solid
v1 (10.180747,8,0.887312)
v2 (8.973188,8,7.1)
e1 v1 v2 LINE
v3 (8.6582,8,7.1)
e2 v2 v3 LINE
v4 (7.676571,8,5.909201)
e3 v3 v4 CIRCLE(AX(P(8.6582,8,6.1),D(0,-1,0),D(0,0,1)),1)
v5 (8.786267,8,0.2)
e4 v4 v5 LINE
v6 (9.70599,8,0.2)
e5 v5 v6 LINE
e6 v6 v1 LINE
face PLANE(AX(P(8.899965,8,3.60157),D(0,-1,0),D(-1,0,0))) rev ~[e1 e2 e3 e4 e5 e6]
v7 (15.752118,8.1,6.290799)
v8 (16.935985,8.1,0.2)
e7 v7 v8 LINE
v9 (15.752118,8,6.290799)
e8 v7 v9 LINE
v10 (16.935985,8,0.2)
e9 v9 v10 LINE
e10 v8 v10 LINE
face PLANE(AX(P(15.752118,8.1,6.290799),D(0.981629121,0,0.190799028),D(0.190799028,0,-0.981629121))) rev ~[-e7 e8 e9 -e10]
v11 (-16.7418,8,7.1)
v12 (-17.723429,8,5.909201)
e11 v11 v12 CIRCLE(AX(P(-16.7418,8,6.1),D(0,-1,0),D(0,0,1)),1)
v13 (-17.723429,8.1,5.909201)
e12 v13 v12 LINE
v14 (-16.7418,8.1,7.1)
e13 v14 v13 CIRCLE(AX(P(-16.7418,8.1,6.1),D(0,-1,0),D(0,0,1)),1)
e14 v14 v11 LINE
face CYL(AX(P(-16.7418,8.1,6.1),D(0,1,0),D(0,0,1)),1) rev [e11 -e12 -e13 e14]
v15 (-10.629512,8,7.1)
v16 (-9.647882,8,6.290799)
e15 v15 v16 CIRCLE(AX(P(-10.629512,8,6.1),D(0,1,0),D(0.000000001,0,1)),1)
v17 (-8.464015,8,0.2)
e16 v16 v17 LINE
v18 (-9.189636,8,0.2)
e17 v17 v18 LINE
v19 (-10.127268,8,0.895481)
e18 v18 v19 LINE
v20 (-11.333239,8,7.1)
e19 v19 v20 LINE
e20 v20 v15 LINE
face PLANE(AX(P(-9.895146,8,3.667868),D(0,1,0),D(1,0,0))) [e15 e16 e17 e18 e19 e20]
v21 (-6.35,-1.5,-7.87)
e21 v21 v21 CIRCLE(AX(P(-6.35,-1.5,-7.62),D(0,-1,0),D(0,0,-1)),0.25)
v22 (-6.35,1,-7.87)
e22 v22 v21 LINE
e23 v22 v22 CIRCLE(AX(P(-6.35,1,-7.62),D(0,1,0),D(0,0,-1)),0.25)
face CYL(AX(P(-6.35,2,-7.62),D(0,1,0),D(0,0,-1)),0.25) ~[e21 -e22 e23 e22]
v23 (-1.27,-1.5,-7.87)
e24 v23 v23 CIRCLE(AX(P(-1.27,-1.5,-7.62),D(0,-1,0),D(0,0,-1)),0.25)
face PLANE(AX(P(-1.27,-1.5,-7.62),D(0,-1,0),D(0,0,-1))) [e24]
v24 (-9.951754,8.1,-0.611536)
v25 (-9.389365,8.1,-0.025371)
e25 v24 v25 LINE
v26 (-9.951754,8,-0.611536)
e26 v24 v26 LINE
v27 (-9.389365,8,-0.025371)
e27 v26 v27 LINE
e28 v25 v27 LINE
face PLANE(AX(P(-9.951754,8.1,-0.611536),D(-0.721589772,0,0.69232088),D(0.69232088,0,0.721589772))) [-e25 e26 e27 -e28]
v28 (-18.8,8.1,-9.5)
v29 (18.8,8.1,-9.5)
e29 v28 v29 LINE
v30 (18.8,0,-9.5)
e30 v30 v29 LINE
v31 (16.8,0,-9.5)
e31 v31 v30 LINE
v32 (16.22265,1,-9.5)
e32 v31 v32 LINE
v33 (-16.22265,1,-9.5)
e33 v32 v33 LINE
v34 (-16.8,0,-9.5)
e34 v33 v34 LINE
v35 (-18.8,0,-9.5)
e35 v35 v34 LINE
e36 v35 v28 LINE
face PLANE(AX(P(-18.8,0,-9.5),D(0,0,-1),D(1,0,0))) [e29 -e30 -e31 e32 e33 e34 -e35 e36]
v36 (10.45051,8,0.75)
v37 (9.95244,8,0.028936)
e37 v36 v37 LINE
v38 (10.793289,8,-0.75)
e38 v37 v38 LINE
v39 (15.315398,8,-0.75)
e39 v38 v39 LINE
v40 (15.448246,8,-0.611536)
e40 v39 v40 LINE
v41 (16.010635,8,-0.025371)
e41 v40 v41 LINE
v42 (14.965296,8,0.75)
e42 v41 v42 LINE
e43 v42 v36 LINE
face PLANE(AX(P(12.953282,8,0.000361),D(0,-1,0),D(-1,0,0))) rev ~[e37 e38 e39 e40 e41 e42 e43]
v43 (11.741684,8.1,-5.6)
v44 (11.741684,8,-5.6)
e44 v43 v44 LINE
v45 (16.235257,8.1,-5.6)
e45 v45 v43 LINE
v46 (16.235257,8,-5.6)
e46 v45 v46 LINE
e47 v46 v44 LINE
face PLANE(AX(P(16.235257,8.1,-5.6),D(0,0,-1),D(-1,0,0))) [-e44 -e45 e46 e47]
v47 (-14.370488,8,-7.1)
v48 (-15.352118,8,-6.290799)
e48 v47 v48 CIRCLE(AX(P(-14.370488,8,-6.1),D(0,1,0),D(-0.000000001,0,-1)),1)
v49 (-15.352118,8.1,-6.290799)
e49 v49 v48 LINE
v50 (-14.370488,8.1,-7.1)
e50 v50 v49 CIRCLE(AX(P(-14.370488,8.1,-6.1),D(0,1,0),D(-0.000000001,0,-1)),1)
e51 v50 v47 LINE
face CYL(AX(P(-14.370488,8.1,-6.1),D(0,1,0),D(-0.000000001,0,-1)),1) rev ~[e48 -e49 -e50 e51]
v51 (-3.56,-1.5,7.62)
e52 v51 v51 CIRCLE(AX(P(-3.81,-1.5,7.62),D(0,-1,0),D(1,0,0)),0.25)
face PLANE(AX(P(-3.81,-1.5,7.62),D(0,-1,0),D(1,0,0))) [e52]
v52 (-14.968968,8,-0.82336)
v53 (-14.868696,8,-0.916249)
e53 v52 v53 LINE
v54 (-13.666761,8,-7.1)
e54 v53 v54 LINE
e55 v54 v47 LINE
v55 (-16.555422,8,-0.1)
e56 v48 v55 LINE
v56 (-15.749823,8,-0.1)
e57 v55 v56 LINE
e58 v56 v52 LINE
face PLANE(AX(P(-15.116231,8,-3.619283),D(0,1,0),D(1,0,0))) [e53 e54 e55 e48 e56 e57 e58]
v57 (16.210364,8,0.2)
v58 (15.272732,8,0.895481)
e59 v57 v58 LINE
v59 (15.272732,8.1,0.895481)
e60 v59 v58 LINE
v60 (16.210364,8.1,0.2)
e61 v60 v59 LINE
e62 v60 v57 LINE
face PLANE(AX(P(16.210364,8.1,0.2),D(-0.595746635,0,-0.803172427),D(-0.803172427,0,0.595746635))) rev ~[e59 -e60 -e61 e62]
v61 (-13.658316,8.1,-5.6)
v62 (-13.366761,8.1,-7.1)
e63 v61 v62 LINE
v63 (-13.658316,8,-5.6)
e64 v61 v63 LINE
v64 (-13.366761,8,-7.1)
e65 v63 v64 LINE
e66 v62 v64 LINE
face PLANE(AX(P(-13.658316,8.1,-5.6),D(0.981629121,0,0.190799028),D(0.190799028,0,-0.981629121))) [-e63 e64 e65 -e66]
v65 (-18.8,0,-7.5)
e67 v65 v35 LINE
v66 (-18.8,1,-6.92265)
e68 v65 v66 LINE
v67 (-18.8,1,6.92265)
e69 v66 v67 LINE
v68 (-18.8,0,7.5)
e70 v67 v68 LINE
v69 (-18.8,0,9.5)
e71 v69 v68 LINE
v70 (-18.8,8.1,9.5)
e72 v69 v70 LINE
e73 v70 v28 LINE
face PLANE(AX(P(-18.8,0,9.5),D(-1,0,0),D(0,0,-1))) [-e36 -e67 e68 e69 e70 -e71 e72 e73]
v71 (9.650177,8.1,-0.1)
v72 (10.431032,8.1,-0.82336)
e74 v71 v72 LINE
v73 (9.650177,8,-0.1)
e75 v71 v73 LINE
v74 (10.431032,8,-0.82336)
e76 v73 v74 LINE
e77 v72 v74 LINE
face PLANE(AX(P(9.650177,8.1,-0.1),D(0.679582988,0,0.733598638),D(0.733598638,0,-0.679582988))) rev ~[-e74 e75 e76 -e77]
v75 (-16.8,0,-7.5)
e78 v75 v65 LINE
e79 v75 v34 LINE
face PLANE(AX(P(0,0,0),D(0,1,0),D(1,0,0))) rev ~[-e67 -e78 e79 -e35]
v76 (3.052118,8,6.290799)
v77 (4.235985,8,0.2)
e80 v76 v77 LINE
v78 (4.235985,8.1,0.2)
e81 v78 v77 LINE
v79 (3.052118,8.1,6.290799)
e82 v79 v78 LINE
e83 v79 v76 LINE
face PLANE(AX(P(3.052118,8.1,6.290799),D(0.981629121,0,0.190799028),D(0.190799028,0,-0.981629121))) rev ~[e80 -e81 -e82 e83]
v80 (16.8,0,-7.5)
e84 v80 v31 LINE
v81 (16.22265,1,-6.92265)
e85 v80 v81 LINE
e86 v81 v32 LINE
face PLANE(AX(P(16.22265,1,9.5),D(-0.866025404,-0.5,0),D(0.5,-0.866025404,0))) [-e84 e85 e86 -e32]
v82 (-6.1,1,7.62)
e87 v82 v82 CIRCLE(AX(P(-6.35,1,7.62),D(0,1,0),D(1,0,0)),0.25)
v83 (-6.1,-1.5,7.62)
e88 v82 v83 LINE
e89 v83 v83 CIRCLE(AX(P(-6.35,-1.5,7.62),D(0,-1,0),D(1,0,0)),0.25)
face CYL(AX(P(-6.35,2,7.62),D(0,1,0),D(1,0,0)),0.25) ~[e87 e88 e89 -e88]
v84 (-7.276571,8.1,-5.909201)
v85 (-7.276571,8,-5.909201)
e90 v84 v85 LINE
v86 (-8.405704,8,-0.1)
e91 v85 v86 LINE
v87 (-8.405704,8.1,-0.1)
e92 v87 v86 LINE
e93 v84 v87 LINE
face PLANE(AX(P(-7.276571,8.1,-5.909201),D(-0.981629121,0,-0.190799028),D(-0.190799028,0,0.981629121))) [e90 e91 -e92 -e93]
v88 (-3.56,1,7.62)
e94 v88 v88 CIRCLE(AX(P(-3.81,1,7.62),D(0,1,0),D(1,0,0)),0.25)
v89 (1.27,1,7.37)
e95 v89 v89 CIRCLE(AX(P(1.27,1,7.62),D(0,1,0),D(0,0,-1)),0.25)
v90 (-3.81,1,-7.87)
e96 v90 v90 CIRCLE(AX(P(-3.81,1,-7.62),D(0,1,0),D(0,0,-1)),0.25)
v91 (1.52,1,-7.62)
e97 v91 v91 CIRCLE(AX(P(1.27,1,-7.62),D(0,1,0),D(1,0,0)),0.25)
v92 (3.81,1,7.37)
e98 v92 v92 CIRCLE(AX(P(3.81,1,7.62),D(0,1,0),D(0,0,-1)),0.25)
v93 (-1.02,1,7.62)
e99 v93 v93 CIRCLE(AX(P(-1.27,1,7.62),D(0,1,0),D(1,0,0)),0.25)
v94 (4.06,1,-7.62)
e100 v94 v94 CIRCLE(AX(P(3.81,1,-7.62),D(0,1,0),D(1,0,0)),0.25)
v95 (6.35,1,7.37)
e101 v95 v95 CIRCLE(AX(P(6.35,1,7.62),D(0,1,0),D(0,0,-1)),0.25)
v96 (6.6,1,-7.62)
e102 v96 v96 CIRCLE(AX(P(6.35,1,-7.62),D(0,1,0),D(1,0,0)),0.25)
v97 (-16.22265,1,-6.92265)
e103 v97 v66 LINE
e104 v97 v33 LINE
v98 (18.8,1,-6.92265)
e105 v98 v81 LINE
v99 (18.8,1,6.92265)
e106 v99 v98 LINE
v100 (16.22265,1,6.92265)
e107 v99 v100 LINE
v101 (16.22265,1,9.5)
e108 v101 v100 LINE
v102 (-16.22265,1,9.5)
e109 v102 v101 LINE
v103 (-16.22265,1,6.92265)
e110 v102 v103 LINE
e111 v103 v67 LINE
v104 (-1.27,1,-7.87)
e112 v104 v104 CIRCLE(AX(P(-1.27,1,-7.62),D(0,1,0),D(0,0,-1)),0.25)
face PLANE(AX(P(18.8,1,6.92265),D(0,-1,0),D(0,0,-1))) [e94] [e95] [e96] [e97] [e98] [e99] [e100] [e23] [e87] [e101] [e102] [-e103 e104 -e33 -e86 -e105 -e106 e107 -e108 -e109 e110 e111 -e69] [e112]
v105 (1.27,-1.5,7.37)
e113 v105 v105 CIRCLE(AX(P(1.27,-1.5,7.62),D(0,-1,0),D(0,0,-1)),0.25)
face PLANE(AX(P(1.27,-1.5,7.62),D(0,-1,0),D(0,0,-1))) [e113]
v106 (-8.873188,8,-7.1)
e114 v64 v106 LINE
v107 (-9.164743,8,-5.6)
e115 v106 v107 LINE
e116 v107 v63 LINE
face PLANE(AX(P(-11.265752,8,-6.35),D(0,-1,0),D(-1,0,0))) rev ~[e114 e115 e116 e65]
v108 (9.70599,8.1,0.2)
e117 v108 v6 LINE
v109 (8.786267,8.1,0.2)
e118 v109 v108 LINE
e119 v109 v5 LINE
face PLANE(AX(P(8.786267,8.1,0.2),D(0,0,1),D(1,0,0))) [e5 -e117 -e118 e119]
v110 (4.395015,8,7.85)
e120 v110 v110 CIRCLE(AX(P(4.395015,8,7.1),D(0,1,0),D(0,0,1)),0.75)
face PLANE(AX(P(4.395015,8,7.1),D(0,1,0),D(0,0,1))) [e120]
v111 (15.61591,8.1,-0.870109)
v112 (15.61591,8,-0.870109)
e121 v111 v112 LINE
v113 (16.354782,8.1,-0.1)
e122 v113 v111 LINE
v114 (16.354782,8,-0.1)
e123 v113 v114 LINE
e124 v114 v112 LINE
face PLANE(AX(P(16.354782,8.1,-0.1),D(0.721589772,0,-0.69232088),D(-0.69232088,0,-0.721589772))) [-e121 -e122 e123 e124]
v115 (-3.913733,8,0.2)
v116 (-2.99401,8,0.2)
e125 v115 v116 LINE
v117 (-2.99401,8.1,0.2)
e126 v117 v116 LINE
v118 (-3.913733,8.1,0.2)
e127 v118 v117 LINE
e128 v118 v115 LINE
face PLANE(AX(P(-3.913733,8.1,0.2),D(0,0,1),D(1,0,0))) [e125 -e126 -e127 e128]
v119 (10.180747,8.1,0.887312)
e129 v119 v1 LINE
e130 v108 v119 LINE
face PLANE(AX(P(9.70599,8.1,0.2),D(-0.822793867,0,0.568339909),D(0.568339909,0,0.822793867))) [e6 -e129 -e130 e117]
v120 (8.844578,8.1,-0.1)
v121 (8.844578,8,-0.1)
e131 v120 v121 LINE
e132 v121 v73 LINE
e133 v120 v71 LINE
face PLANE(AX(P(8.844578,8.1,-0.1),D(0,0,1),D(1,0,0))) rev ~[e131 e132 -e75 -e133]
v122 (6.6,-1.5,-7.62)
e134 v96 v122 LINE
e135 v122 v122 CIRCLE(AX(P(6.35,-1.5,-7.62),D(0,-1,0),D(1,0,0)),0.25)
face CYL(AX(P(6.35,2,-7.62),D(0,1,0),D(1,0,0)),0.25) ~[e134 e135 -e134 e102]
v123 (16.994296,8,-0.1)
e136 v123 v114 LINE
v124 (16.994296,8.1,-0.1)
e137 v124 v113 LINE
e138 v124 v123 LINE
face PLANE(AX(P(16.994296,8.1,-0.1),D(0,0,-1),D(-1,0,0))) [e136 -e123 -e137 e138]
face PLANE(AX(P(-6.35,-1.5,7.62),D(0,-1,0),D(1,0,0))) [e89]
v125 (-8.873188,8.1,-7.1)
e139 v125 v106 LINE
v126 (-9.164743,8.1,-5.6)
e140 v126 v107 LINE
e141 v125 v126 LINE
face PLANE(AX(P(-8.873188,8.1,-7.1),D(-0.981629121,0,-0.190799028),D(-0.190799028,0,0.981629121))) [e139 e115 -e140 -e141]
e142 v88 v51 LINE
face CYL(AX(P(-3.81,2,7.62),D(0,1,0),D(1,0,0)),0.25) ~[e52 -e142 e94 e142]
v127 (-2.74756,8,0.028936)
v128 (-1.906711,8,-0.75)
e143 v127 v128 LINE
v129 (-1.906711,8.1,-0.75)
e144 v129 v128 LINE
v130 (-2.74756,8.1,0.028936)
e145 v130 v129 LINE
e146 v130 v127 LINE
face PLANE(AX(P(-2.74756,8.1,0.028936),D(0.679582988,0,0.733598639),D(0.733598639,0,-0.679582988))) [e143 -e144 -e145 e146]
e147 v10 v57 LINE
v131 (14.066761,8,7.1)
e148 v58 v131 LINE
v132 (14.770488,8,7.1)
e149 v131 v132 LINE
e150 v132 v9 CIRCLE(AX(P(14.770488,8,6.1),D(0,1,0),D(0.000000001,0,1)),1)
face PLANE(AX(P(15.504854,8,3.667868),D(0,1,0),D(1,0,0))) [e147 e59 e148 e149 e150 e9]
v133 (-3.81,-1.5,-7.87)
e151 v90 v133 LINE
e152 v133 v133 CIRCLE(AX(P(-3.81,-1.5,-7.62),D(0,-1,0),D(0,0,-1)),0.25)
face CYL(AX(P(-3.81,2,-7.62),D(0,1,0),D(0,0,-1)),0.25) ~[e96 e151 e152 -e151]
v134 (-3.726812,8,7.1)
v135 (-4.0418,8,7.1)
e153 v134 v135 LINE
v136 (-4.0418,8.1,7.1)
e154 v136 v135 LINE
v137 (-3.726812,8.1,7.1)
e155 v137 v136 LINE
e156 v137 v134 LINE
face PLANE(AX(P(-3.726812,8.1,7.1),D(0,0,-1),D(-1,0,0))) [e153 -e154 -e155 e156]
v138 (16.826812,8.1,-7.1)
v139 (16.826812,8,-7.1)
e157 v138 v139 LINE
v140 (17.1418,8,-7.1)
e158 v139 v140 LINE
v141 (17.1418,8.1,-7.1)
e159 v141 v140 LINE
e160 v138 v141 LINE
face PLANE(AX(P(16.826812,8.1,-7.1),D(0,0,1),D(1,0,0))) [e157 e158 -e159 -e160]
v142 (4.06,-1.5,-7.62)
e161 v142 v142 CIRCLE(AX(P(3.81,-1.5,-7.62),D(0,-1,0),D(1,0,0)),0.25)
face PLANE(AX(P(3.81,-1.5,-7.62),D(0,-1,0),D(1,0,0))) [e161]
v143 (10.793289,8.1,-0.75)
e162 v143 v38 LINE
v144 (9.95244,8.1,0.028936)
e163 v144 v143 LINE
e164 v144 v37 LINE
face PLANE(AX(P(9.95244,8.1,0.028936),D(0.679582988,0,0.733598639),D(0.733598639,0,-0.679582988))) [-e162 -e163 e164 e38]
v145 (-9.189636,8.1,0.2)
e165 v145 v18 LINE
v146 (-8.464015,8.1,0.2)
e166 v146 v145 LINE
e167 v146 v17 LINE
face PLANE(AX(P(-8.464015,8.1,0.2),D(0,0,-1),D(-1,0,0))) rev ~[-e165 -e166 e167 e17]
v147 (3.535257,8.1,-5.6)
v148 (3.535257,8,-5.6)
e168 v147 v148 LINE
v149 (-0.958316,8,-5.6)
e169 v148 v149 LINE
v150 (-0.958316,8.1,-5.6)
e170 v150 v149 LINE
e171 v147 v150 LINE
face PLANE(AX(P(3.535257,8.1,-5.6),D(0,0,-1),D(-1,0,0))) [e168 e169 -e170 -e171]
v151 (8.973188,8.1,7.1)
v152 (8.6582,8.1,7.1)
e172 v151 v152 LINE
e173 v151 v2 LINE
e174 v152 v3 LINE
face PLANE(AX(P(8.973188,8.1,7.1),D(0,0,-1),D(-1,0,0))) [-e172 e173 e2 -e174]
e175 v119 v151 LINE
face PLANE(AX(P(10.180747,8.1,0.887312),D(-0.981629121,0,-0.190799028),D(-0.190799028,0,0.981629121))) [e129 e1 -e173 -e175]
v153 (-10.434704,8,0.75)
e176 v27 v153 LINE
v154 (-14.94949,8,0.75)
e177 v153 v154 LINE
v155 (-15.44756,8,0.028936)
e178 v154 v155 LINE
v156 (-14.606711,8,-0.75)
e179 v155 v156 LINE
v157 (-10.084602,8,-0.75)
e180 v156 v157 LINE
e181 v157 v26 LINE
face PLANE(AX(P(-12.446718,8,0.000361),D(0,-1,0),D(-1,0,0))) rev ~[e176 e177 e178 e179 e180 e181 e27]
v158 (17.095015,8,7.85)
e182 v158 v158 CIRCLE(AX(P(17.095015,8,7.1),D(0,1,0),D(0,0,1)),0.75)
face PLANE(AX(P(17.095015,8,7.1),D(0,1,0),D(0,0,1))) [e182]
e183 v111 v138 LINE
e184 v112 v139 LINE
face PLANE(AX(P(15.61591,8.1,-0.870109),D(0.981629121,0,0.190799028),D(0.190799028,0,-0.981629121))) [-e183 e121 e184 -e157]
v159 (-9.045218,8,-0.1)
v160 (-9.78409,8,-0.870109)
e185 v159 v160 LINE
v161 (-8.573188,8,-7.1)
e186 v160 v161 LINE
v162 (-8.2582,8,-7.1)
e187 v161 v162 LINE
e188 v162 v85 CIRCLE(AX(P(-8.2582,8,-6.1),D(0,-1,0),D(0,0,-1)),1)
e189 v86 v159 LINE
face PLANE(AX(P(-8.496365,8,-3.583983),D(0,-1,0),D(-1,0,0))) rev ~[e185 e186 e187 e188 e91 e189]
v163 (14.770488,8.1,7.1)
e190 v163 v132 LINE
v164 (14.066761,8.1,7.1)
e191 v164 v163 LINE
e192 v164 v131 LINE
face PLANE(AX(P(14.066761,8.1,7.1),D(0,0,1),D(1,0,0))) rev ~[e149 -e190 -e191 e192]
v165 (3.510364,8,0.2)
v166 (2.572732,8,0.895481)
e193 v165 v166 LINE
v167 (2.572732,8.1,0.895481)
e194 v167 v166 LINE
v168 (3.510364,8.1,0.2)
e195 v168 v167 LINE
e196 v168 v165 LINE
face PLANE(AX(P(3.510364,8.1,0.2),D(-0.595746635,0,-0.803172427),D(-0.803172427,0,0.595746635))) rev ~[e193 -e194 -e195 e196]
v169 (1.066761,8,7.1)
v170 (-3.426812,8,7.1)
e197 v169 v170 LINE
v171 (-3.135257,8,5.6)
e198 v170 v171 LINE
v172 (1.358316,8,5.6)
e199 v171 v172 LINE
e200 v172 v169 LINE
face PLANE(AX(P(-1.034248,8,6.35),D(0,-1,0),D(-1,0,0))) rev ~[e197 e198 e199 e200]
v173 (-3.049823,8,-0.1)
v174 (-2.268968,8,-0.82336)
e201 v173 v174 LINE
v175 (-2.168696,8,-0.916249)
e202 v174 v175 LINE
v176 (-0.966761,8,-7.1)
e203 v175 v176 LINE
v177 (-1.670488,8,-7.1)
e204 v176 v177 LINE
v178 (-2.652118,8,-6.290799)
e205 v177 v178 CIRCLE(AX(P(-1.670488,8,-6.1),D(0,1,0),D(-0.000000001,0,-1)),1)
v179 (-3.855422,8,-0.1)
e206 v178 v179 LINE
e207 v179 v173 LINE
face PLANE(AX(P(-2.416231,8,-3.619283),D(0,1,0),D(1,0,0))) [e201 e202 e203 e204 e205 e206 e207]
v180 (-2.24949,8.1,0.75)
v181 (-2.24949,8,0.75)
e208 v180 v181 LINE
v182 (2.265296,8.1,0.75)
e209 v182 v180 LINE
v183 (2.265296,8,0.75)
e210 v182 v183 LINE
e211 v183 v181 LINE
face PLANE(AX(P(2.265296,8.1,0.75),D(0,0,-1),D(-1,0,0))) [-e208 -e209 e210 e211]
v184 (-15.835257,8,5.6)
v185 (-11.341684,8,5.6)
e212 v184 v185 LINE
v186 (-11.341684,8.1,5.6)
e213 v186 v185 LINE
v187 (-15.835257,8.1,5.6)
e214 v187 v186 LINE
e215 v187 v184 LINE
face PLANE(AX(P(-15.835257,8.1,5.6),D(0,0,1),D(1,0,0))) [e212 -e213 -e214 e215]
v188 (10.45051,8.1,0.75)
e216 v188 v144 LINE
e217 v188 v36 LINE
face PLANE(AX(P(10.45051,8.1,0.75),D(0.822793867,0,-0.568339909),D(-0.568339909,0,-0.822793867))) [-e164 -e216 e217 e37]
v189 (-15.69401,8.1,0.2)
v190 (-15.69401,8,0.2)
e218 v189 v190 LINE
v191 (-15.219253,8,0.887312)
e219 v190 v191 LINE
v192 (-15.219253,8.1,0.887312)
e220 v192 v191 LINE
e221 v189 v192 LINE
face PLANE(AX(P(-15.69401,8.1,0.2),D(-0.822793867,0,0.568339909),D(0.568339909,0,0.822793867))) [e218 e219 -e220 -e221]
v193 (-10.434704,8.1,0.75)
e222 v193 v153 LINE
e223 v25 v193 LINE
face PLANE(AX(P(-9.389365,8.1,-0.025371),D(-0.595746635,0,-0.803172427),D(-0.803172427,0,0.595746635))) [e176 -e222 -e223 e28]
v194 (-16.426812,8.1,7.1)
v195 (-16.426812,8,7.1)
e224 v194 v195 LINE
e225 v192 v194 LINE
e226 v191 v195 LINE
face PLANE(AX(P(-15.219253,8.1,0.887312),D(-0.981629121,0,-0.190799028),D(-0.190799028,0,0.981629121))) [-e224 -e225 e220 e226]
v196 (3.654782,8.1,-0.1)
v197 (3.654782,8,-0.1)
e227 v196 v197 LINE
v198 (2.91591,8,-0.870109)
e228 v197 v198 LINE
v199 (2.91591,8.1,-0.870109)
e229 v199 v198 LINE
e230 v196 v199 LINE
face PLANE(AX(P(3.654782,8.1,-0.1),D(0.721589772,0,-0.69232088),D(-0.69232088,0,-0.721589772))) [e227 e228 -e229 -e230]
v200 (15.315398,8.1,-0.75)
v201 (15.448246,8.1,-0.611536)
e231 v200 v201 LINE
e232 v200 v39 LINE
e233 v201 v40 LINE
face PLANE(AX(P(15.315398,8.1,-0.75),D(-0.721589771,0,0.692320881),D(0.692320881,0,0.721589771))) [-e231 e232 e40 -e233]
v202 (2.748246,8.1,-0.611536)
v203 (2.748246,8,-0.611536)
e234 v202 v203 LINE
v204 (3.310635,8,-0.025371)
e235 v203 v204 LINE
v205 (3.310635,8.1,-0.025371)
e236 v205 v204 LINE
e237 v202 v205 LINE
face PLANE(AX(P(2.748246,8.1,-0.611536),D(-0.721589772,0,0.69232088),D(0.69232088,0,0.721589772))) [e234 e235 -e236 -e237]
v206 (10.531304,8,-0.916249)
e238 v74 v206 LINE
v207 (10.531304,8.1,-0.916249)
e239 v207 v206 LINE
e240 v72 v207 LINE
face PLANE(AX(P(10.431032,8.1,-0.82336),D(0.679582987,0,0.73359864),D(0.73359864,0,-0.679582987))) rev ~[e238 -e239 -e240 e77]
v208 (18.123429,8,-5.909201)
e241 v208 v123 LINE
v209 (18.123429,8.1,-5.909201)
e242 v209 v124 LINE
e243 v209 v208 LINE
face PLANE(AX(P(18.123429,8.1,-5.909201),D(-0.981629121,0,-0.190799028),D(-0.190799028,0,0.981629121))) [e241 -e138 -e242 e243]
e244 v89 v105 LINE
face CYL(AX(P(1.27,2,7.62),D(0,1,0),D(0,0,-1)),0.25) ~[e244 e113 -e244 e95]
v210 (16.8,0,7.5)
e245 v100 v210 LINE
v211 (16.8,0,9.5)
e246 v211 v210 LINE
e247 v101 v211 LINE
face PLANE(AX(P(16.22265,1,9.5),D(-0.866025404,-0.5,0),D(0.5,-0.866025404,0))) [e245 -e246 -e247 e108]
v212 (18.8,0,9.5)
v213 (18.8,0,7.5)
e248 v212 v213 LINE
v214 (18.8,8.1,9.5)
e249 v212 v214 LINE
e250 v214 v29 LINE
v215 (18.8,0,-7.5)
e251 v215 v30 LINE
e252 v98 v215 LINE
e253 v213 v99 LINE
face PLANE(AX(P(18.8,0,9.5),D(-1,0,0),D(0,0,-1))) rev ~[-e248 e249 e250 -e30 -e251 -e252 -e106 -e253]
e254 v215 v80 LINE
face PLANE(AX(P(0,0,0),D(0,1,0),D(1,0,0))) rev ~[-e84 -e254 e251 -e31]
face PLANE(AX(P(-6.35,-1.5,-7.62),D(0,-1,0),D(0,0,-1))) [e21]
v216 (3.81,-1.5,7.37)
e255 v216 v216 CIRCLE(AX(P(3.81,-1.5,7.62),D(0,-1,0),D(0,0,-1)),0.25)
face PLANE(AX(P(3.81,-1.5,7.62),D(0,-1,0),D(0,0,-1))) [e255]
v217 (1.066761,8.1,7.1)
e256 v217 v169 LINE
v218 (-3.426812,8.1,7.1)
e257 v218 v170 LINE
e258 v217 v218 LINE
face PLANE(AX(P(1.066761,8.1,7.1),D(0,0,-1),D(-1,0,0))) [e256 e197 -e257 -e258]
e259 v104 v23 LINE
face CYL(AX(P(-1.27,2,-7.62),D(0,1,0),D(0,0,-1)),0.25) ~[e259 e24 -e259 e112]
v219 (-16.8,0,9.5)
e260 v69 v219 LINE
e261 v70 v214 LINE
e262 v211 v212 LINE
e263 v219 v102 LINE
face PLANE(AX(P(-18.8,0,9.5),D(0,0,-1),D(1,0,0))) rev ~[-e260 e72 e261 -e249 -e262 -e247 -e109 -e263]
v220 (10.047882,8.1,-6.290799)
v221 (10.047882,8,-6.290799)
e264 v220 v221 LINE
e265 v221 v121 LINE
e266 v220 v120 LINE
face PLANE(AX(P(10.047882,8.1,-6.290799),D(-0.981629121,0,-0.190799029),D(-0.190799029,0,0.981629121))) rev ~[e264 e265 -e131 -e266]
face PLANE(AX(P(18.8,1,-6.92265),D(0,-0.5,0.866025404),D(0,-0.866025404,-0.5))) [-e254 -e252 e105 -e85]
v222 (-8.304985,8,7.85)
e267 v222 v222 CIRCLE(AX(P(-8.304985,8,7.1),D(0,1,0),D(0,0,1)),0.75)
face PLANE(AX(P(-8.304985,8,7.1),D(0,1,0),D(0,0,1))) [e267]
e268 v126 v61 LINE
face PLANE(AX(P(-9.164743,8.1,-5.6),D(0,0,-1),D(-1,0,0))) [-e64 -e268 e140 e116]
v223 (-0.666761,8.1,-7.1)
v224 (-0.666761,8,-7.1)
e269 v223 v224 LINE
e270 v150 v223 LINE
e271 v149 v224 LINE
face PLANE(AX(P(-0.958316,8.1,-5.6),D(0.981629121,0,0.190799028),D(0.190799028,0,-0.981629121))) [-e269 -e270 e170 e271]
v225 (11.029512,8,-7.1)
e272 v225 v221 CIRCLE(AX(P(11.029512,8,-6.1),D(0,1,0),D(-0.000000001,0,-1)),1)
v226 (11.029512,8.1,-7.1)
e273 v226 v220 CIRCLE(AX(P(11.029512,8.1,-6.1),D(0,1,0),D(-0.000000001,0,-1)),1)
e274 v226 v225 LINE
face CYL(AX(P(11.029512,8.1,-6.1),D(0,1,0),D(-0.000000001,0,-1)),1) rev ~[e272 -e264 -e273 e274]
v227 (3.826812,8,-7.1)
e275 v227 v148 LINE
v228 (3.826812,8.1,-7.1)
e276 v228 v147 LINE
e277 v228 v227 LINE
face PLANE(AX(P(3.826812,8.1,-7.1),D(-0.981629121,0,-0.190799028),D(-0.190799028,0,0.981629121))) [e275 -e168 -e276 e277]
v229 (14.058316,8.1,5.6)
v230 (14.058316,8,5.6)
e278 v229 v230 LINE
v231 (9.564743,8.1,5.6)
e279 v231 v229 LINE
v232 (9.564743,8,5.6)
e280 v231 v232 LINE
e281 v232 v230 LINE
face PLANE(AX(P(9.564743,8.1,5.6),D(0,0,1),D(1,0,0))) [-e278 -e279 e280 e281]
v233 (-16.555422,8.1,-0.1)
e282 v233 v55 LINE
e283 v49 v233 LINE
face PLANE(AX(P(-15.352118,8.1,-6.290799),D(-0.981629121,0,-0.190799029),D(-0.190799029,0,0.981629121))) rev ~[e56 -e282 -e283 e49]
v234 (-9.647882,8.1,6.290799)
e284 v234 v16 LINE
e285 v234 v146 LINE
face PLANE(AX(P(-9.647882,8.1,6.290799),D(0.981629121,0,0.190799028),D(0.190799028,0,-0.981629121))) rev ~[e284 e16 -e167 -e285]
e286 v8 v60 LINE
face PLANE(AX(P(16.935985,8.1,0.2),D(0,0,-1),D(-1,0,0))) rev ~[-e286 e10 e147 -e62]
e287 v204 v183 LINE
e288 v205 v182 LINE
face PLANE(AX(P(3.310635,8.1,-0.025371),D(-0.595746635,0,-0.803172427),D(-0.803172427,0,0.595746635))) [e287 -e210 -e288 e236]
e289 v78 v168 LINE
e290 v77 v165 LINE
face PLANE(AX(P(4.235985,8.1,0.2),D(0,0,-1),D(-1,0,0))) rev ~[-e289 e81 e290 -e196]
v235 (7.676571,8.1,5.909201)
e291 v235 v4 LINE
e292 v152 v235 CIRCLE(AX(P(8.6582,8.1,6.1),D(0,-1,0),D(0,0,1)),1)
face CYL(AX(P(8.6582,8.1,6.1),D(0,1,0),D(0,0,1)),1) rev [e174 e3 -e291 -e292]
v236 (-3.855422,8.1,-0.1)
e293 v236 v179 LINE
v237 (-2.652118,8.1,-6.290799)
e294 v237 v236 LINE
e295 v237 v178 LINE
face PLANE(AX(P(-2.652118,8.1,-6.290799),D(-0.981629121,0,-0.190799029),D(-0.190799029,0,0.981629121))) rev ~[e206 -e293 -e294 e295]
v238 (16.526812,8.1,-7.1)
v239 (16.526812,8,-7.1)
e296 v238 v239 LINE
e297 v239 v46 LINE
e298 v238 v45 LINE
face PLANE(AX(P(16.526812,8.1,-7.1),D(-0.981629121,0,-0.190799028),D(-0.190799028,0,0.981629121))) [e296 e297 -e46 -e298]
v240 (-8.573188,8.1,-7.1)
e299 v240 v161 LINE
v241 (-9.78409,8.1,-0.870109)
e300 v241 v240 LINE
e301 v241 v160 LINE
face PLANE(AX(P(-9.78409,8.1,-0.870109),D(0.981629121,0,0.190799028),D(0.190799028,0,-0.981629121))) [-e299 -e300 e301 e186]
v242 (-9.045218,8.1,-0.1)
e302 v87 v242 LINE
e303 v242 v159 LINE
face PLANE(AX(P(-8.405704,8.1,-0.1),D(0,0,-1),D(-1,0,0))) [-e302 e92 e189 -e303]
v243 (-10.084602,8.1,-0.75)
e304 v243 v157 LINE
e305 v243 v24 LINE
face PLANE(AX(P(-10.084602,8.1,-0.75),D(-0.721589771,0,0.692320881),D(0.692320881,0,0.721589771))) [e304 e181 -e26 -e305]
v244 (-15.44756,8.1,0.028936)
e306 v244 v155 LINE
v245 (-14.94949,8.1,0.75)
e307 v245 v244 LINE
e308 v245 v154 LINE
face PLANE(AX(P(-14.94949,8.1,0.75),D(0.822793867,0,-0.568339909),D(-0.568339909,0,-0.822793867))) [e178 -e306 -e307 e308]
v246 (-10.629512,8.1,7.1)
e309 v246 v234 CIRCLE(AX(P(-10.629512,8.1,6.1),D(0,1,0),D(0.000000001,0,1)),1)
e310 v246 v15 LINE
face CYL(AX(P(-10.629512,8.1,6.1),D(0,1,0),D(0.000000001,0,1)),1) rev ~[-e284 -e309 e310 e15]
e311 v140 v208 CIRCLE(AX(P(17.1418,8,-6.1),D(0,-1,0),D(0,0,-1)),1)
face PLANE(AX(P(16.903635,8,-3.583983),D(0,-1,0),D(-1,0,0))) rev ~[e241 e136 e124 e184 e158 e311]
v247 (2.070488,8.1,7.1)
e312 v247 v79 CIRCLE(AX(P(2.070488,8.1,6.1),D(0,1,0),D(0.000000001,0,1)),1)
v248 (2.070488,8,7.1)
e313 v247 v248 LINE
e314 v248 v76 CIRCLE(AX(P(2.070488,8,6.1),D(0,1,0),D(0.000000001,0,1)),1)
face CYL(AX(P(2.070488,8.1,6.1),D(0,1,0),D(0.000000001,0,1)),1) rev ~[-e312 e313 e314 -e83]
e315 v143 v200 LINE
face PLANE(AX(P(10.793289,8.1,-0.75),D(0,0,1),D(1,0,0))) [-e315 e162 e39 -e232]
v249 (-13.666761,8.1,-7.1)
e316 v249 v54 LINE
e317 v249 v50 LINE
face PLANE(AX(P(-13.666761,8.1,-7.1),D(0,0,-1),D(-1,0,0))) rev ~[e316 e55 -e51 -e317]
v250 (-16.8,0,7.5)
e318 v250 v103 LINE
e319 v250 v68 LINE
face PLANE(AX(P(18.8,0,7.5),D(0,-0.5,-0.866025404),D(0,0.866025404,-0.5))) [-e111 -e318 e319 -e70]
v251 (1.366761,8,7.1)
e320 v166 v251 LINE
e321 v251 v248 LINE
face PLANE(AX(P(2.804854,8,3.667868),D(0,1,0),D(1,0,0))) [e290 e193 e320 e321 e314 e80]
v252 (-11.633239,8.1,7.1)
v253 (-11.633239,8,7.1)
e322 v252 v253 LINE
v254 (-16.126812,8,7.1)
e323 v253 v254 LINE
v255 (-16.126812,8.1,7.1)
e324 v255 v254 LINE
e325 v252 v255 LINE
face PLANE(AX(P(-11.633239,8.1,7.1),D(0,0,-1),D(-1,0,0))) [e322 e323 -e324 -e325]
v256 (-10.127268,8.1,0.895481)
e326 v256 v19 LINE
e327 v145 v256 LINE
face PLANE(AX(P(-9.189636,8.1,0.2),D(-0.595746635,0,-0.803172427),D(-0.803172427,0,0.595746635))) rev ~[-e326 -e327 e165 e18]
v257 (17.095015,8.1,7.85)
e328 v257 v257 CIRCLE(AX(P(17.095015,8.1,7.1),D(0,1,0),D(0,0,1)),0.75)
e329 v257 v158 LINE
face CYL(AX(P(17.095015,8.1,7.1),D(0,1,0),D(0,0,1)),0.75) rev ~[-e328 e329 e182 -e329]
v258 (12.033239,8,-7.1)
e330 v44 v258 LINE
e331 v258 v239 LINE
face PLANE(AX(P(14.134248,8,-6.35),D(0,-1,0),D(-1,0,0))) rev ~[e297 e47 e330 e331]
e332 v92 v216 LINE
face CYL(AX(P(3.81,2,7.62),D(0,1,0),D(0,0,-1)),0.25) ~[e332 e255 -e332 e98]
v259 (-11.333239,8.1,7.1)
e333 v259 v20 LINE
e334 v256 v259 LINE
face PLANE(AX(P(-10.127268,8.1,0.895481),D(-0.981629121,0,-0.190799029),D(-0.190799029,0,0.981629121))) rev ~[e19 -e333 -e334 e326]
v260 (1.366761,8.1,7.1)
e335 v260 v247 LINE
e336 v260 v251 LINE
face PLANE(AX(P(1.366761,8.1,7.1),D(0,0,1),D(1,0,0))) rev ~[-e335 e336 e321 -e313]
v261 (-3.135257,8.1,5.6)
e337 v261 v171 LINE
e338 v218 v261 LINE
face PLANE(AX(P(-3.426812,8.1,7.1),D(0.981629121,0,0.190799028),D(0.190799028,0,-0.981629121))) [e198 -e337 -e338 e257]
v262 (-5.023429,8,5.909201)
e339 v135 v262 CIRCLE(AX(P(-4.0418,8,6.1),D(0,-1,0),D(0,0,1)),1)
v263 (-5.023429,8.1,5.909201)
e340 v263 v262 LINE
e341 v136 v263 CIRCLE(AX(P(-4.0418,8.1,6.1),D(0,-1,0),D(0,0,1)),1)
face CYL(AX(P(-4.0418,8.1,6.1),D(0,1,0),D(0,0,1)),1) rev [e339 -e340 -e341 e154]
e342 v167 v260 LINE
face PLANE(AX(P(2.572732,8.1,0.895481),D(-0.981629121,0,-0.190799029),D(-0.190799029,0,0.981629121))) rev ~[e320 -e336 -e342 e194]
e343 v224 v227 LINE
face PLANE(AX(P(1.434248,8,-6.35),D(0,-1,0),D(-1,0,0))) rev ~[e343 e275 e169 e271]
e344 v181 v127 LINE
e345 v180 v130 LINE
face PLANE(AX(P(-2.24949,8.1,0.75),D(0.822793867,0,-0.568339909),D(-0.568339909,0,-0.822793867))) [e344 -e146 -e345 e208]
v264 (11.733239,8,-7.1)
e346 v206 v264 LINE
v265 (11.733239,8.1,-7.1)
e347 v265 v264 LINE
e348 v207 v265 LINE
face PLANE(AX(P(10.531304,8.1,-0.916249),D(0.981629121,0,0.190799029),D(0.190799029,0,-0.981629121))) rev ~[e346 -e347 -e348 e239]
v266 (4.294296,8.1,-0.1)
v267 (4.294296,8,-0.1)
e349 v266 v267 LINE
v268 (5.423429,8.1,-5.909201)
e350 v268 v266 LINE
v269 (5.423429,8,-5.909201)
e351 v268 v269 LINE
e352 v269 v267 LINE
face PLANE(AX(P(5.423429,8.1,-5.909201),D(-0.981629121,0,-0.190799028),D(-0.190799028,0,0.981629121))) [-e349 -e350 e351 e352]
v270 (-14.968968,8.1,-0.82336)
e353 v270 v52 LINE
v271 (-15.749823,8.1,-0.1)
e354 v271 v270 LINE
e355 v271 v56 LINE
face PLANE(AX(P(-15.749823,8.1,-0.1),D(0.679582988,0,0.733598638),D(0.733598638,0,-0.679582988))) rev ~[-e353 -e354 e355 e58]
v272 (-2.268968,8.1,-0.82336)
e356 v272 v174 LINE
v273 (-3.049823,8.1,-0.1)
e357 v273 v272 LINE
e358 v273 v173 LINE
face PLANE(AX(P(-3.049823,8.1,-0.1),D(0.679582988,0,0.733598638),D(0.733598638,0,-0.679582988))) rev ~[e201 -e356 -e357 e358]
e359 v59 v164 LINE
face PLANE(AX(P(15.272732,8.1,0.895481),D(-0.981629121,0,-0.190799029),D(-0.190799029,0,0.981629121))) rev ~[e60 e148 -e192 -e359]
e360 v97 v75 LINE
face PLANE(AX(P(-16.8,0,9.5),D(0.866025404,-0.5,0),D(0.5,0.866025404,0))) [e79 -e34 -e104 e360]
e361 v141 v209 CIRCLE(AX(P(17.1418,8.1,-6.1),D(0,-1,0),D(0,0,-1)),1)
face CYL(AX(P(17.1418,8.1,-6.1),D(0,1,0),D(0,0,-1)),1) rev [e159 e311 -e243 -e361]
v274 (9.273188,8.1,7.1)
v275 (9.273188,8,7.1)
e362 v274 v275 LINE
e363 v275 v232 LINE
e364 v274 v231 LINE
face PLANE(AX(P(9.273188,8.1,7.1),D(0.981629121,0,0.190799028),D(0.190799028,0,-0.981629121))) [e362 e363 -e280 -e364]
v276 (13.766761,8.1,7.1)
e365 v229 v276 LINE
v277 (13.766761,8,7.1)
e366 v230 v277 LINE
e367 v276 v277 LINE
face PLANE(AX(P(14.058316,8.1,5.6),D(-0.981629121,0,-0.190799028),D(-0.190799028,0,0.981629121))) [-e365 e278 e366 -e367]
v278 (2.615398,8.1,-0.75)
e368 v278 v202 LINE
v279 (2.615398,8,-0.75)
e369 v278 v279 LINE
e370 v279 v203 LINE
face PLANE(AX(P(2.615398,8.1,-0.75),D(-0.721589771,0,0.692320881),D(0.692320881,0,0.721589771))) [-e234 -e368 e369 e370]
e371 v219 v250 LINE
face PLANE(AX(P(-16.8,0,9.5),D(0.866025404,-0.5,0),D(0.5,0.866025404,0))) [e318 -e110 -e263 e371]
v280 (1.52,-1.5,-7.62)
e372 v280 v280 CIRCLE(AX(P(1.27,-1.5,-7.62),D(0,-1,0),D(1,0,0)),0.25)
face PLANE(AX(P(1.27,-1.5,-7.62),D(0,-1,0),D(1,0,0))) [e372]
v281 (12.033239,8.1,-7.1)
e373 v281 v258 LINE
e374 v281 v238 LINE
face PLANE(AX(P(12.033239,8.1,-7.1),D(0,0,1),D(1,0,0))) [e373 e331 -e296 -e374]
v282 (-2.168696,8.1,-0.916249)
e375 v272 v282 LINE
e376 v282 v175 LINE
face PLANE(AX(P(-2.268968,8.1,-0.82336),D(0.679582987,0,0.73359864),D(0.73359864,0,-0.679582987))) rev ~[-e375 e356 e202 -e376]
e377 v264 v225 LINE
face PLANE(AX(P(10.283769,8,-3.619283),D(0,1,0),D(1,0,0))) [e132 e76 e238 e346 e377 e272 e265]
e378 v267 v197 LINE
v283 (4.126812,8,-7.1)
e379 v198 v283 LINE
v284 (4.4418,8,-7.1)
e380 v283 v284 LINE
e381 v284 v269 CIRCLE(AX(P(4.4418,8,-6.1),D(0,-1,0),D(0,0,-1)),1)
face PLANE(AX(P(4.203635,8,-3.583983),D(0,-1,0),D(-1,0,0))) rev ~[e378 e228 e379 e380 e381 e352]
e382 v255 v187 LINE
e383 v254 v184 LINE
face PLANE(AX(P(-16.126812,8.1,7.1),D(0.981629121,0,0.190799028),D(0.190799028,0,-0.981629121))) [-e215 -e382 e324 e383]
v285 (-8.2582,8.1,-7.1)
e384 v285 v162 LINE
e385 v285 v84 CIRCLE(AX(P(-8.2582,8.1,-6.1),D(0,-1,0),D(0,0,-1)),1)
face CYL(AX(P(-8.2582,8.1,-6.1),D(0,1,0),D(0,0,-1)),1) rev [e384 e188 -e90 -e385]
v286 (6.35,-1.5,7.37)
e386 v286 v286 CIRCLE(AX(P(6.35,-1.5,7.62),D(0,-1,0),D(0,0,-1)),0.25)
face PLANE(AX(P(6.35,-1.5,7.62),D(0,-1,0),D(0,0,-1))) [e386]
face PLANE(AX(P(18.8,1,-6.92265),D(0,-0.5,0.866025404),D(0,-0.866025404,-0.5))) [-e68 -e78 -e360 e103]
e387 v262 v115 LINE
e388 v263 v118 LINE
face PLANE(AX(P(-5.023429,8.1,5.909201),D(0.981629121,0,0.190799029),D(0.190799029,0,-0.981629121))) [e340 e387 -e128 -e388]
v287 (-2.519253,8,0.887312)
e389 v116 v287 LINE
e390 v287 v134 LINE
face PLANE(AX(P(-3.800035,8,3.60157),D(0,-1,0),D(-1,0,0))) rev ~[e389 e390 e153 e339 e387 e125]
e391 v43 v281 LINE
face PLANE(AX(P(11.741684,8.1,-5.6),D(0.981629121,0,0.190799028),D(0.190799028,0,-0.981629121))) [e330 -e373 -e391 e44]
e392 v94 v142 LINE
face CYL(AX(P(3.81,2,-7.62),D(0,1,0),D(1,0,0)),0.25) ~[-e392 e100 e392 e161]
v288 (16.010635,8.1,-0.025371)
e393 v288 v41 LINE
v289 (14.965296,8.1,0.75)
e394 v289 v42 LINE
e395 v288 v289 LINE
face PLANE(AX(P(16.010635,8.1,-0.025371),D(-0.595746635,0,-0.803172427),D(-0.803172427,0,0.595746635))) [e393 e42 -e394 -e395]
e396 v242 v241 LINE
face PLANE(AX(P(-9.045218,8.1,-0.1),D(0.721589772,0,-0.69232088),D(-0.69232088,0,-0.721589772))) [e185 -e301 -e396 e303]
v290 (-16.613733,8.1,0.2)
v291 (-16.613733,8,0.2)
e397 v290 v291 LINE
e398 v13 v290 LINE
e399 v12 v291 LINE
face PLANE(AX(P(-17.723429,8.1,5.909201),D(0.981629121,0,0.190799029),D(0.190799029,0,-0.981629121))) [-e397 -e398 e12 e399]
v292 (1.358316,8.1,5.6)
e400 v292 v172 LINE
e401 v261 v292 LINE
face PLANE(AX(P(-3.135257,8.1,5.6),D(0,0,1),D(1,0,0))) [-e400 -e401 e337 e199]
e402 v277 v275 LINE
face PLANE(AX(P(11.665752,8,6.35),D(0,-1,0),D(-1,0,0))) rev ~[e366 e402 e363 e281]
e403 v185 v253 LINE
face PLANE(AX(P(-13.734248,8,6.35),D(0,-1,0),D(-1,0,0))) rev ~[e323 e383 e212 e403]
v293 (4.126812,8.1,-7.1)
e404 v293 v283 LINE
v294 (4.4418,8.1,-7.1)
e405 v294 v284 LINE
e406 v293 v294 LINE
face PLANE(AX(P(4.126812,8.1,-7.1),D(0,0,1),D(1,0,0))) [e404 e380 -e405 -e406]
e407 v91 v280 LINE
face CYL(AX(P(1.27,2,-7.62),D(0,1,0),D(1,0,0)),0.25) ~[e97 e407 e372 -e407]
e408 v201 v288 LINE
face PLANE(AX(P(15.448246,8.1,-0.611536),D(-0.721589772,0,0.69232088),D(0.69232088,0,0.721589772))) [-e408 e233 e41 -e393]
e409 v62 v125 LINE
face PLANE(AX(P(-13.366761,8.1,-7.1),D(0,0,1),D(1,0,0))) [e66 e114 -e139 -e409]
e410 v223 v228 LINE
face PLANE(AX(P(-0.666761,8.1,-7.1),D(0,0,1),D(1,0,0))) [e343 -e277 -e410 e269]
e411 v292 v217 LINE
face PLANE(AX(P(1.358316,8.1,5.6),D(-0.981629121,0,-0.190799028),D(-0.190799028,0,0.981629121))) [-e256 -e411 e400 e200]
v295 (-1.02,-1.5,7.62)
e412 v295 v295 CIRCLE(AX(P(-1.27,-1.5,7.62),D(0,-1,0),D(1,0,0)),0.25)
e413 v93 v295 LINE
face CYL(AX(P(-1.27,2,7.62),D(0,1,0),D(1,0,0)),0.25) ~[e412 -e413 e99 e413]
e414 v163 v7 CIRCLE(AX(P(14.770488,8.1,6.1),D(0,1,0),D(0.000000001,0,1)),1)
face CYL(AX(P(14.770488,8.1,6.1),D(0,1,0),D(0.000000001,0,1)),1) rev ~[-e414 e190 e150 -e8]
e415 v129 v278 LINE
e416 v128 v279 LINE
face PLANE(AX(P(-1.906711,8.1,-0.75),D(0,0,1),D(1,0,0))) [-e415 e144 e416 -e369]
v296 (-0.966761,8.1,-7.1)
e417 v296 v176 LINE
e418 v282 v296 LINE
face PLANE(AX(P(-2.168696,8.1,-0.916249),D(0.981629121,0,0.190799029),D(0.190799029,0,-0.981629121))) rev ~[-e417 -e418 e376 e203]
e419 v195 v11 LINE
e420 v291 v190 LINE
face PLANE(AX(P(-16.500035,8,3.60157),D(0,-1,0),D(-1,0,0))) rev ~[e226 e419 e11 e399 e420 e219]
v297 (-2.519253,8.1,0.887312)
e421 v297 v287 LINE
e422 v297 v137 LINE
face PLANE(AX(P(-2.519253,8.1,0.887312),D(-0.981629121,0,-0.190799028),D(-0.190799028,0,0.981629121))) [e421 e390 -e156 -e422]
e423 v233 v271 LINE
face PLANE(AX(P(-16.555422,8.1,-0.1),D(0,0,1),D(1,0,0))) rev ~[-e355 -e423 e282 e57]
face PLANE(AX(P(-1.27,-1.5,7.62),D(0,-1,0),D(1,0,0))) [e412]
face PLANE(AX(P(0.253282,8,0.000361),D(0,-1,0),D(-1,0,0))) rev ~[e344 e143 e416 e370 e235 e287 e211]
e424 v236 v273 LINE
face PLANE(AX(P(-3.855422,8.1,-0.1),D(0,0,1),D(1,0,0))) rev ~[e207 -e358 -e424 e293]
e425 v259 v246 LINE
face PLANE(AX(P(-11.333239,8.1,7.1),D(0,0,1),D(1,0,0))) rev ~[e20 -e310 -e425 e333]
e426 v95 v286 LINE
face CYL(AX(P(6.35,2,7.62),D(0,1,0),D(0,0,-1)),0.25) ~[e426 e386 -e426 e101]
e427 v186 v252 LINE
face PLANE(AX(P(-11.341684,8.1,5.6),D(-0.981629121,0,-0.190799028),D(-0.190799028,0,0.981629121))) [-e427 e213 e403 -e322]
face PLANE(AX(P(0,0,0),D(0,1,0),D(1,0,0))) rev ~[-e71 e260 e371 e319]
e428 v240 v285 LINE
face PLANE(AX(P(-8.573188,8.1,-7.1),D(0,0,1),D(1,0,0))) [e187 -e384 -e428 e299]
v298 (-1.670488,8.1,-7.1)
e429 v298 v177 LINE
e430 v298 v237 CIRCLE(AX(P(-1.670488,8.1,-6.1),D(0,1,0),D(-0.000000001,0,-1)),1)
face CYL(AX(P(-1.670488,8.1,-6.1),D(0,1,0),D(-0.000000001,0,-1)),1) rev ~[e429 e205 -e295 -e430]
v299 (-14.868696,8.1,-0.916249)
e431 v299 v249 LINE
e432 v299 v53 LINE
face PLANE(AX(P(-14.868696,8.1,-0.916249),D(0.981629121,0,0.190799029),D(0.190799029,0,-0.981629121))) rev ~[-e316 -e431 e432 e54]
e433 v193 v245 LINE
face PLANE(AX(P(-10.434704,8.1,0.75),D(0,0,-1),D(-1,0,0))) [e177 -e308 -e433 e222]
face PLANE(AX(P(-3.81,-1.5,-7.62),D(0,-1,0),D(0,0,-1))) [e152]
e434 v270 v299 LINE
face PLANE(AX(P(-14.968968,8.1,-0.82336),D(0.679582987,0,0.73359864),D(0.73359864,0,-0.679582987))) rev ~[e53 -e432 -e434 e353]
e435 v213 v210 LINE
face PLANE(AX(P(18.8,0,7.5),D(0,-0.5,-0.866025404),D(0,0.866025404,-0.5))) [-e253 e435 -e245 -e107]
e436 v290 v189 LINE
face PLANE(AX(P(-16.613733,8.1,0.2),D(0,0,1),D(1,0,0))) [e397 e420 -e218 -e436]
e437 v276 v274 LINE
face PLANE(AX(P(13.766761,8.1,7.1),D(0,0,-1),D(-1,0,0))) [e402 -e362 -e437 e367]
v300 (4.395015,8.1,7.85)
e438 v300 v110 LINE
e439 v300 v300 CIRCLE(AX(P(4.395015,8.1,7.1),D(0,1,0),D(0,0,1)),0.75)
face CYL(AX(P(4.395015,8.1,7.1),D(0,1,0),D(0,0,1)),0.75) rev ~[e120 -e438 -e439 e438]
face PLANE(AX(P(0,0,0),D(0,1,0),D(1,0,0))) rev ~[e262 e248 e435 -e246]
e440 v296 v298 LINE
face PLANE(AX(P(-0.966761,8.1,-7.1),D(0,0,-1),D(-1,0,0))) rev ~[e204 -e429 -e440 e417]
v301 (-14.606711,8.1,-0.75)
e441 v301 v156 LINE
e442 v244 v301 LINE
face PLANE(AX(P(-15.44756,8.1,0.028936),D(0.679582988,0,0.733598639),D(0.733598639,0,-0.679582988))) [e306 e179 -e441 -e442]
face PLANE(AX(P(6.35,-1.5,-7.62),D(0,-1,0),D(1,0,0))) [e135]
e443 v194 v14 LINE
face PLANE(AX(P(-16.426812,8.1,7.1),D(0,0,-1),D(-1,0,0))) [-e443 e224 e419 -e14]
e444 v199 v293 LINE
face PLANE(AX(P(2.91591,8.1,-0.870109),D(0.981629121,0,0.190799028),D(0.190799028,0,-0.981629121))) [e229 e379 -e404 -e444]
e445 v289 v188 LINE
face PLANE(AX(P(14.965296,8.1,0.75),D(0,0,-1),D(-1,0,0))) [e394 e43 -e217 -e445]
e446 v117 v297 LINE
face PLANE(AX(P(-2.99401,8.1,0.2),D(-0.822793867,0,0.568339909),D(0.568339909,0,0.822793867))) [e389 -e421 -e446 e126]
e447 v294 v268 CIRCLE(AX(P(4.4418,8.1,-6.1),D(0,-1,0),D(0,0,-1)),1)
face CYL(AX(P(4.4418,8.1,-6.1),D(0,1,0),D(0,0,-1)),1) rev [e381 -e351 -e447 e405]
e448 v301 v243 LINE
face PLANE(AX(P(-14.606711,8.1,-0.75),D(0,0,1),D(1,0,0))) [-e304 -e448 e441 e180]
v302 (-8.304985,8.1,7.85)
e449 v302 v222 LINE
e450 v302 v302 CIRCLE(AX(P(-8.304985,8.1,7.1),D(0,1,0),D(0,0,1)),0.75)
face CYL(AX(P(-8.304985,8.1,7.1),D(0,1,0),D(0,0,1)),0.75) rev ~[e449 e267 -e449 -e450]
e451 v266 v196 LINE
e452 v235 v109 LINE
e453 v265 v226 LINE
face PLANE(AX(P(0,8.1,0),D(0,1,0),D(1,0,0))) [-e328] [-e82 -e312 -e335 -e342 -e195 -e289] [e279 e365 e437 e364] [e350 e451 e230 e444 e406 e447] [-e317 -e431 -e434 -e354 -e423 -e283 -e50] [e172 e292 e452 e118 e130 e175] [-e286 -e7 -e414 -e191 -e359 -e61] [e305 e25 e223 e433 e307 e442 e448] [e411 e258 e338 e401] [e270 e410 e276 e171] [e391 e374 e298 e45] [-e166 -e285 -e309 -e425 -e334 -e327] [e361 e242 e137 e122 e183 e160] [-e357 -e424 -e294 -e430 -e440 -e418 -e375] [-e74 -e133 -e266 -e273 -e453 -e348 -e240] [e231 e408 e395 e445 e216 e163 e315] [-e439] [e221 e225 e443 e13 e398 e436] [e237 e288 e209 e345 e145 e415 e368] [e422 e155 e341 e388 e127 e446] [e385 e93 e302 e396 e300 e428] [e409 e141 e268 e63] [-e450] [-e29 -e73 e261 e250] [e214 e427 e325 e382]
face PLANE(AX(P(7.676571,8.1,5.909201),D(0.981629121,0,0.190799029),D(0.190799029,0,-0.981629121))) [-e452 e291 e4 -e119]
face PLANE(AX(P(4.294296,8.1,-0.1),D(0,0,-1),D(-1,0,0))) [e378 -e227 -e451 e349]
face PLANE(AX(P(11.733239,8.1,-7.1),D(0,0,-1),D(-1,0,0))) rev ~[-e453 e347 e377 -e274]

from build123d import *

# Parameters (mm, degrees)
SKETCH_1_W             = 37.6
SKETCH_1_H             = 19
EXTRUDE_1_DEPTH        = 8.1
SKETCH_3_R             = 0.75
CUT_EXTRUDE_1_DEPTH    = 0.1
PATTERN_LINEAR_1_COUNT = 3
PATTERN_LINEAR_1_PITCH = 12.7
CUT_EXTRUDE_4_DEPTH    = 28.929375217
CUT_EXTRUDE_5_DEPTH    = 40.618430055
EXTRUDE_3_DEPTH        = 2.5
EXTRUDE_3_DEPTH_BACK   = 1
SKETCH_7_R             = 0.25


with BuildPart() as part:
    # Эскиз1 → Бобышка-Вытянуть1 (new body)
    with BuildSketch(Plane(origin=(0, 0, 0), x_dir=(1, 0, 0), z_dir=(0, 1, 0))):
        Rectangle(SKETCH_1_W, SKETCH_1_H)
    extrude(amount=EXTRUDE_1_DEPTH)

    # Эскиз3 → Вырез-Вытянуть1 (cut)
    with BuildSketch(Plane(origin=(0, 8.1, 0), x_dir=(1, 0, 0), z_dir=(0, 1, 0))):
        with Locations(Location((-8.304984536, -7.1, 0), (0, 0, 270))):
            Circle(SKETCH_3_R)
        with BuildLine():
            Line((-16.613732692, -0.2), (-15.694010352, -0.2))
            Line((-15.694010352, -0.2), (-15.219253427, -0.887312434))
            Line((-15.219253427, -0.887312434), (-16.426812093, -7.1))
            Line((-16.426812093, -7.1), (-16.741799663, -7.1))
            ThreePointArc((-16.741799663, -7.1), (-17.513421017, -6.736082138), (-17.723428784, -5.909200972))
            Line((-17.723428784, -5.909200972), (-16.613732692, -0.2))
        make_face()
        Polygon((-15.447560185, -0.028936325), (-14.606711256, 0.75), (-10.084601751, 0.75), (-9.951753914, 0.611535824), (-9.389365278, 0.025371374), (-10.434703803, -0.75), (-14.949489793, -0.75), align=None)
        Polygon((-13.658315987, 5.6), (-13.366761329, 7.1), (-8.873187907, 7.1), (-9.164742565, 5.6), align=None)
        Polygon((-16.126812093, -7.1), (-15.835257435, -5.6), (-11.341684013, -5.6), (-11.633238671, -7.1), align=None)
        with BuildLine():
            Line((-8.405704285, 0.1), (-9.045218155, 0.1))
            Line((-9.045218155, 0.1), (-9.784090374, 0.870109138))
            Line((-9.784090374, 0.870109138), (-8.573187907, 7.1))
            Line((-8.573187907, 7.1), (-8.258200337, 7.1))
            ThreePointArc((-8.258200337, 7.1), (-7.486578983, 6.736082138), (-7.276571216, 5.909200972))
            Line((-7.276571216, 5.909200972), (-8.405704285, 0.1))
        make_face()
        with BuildLine():
            Line((-8.464015217, -0.2), (-9.087857218, -0.2))
            Line((-9.087857218, -0.2), (-9.189636199, -0.2))
            Line((-9.189636199, -0.2), (-10.127267632, -0.895480512))
            Line((-10.127267632, -0.895480512), (-11.333238671, -7.1))
            Line((-11.333238671, -7.1), (-10.629511556, -7.1))
            ThreePointArc((-10.629511556, -7.1), (-9.993429419, -6.871621354), (-9.647882436, -6.290799028))
            Line((-9.647882436, -6.290799028), (-8.464015217, -0.2))
        make_face()
        with BuildLine():
            Line((-16.555421761, 0.1), (-15.749822735, 0.1))
            Line((-15.749822735, 0.1), (-14.968967681, 0.823359864))
            Line((-14.968967681, 0.823359864), (-14.868695649, 0.916248759))
            Line((-14.868695649, 0.916248759), (-13.666761329, 7.1))
            Line((-13.666761329, 7.1), (-14.370488444, 7.1))
            ThreePointArc((-14.370488444, 7.1), (-15.006570581, 6.871621354), (-15.352117564, 6.290799028))
            Line((-15.352117564, 6.290799028), (-16.555421761, 0.1))
        make_face()
    cut_extrude_1 = extrude(amount=-CUT_EXTRUDE_1_DEPTH, mode=Mode.SUBTRACT)

    # Линейный массив1: Вырез-Вытянуть1 ×3
    with Locations(*[(i * PATTERN_LINEAR_1_PITCH, 0, 0) for i in range(1, PATTERN_LINEAR_1_COUNT)]):
        add(cut_extrude_1, mode=Mode.SUBTRACT)

    # Эскиз5 → Вырез-Вытянуть4 (cut, through all)
    with BuildSketch(Plane.XY.offset(9.5)):
        Polygon((-16.8, 0), (-16.222649731, 1), (16.222649731, 1), (16.8, 0), align=None)
    extrude(amount=-CUT_EXTRUDE_4_DEPTH, mode=Mode.SUBTRACT)

    # Эскиз6 → Вырез-Вытянуть5 (cut, through all)
    with BuildSketch(Plane(origin=(18.8, 0, 0), x_dir=(0, 0, -1), z_dir=(1, 0, 0))):
        Polygon((-7.5, 0), (-6.922649731, 1), (6.922649731, 1), (7.5, 0), align=None)
    extrude(amount=-CUT_EXTRUDE_5_DEPTH, mode=Mode.SUBTRACT)

    # Эскиз7 → Бобышка-Вытянуть3 (add, two sides: drawn at the far end of the back side and taken through both)
    with BuildSketch(Plane.XZ.offset(-1).offset(-EXTRUDE_3_DEPTH_BACK)):
        with Locations(Location((-1.27, -7.62, 0), (0, 0, 270))):
            Circle(SKETCH_7_R)
        with Locations(Location((-3.81, -7.62, 0), (0, 0, 270))):
            Circle(SKETCH_7_R)
        with Locations(Location((-6.35, -7.62, 0), (0, 0, 270))):
            Circle(SKETCH_7_R)
        with Locations((6.35, -7.62)):
            Circle(SKETCH_7_R)
        with Locations((3.81, -7.62)):
            Circle(SKETCH_7_R)
        with Locations((1.27, -7.62)):
            Circle(SKETCH_7_R)
        with Locations(Location((1.27, 7.62, 0), (0, 0, 270))):
            Circle(SKETCH_7_R)
        with Locations(Location((3.81, 7.62, 0), (0, 0, 270))):
            Circle(SKETCH_7_R)
        with Locations(Location((6.35, 7.62, 0), (0, 0, 270))):
            Circle(SKETCH_7_R)
        with Locations((-6.35, 7.62)):
            Circle(SKETCH_7_R)
        with Locations((-3.81, 7.62)):
            Circle(SKETCH_7_R)
        with Locations((-1.27, 7.62)):
            Circle(SKETCH_7_R)
    extrude(amount=EXTRUDE_3_DEPTH + EXTRUDE_3_DEPTH_BACK)


solid = part.part
